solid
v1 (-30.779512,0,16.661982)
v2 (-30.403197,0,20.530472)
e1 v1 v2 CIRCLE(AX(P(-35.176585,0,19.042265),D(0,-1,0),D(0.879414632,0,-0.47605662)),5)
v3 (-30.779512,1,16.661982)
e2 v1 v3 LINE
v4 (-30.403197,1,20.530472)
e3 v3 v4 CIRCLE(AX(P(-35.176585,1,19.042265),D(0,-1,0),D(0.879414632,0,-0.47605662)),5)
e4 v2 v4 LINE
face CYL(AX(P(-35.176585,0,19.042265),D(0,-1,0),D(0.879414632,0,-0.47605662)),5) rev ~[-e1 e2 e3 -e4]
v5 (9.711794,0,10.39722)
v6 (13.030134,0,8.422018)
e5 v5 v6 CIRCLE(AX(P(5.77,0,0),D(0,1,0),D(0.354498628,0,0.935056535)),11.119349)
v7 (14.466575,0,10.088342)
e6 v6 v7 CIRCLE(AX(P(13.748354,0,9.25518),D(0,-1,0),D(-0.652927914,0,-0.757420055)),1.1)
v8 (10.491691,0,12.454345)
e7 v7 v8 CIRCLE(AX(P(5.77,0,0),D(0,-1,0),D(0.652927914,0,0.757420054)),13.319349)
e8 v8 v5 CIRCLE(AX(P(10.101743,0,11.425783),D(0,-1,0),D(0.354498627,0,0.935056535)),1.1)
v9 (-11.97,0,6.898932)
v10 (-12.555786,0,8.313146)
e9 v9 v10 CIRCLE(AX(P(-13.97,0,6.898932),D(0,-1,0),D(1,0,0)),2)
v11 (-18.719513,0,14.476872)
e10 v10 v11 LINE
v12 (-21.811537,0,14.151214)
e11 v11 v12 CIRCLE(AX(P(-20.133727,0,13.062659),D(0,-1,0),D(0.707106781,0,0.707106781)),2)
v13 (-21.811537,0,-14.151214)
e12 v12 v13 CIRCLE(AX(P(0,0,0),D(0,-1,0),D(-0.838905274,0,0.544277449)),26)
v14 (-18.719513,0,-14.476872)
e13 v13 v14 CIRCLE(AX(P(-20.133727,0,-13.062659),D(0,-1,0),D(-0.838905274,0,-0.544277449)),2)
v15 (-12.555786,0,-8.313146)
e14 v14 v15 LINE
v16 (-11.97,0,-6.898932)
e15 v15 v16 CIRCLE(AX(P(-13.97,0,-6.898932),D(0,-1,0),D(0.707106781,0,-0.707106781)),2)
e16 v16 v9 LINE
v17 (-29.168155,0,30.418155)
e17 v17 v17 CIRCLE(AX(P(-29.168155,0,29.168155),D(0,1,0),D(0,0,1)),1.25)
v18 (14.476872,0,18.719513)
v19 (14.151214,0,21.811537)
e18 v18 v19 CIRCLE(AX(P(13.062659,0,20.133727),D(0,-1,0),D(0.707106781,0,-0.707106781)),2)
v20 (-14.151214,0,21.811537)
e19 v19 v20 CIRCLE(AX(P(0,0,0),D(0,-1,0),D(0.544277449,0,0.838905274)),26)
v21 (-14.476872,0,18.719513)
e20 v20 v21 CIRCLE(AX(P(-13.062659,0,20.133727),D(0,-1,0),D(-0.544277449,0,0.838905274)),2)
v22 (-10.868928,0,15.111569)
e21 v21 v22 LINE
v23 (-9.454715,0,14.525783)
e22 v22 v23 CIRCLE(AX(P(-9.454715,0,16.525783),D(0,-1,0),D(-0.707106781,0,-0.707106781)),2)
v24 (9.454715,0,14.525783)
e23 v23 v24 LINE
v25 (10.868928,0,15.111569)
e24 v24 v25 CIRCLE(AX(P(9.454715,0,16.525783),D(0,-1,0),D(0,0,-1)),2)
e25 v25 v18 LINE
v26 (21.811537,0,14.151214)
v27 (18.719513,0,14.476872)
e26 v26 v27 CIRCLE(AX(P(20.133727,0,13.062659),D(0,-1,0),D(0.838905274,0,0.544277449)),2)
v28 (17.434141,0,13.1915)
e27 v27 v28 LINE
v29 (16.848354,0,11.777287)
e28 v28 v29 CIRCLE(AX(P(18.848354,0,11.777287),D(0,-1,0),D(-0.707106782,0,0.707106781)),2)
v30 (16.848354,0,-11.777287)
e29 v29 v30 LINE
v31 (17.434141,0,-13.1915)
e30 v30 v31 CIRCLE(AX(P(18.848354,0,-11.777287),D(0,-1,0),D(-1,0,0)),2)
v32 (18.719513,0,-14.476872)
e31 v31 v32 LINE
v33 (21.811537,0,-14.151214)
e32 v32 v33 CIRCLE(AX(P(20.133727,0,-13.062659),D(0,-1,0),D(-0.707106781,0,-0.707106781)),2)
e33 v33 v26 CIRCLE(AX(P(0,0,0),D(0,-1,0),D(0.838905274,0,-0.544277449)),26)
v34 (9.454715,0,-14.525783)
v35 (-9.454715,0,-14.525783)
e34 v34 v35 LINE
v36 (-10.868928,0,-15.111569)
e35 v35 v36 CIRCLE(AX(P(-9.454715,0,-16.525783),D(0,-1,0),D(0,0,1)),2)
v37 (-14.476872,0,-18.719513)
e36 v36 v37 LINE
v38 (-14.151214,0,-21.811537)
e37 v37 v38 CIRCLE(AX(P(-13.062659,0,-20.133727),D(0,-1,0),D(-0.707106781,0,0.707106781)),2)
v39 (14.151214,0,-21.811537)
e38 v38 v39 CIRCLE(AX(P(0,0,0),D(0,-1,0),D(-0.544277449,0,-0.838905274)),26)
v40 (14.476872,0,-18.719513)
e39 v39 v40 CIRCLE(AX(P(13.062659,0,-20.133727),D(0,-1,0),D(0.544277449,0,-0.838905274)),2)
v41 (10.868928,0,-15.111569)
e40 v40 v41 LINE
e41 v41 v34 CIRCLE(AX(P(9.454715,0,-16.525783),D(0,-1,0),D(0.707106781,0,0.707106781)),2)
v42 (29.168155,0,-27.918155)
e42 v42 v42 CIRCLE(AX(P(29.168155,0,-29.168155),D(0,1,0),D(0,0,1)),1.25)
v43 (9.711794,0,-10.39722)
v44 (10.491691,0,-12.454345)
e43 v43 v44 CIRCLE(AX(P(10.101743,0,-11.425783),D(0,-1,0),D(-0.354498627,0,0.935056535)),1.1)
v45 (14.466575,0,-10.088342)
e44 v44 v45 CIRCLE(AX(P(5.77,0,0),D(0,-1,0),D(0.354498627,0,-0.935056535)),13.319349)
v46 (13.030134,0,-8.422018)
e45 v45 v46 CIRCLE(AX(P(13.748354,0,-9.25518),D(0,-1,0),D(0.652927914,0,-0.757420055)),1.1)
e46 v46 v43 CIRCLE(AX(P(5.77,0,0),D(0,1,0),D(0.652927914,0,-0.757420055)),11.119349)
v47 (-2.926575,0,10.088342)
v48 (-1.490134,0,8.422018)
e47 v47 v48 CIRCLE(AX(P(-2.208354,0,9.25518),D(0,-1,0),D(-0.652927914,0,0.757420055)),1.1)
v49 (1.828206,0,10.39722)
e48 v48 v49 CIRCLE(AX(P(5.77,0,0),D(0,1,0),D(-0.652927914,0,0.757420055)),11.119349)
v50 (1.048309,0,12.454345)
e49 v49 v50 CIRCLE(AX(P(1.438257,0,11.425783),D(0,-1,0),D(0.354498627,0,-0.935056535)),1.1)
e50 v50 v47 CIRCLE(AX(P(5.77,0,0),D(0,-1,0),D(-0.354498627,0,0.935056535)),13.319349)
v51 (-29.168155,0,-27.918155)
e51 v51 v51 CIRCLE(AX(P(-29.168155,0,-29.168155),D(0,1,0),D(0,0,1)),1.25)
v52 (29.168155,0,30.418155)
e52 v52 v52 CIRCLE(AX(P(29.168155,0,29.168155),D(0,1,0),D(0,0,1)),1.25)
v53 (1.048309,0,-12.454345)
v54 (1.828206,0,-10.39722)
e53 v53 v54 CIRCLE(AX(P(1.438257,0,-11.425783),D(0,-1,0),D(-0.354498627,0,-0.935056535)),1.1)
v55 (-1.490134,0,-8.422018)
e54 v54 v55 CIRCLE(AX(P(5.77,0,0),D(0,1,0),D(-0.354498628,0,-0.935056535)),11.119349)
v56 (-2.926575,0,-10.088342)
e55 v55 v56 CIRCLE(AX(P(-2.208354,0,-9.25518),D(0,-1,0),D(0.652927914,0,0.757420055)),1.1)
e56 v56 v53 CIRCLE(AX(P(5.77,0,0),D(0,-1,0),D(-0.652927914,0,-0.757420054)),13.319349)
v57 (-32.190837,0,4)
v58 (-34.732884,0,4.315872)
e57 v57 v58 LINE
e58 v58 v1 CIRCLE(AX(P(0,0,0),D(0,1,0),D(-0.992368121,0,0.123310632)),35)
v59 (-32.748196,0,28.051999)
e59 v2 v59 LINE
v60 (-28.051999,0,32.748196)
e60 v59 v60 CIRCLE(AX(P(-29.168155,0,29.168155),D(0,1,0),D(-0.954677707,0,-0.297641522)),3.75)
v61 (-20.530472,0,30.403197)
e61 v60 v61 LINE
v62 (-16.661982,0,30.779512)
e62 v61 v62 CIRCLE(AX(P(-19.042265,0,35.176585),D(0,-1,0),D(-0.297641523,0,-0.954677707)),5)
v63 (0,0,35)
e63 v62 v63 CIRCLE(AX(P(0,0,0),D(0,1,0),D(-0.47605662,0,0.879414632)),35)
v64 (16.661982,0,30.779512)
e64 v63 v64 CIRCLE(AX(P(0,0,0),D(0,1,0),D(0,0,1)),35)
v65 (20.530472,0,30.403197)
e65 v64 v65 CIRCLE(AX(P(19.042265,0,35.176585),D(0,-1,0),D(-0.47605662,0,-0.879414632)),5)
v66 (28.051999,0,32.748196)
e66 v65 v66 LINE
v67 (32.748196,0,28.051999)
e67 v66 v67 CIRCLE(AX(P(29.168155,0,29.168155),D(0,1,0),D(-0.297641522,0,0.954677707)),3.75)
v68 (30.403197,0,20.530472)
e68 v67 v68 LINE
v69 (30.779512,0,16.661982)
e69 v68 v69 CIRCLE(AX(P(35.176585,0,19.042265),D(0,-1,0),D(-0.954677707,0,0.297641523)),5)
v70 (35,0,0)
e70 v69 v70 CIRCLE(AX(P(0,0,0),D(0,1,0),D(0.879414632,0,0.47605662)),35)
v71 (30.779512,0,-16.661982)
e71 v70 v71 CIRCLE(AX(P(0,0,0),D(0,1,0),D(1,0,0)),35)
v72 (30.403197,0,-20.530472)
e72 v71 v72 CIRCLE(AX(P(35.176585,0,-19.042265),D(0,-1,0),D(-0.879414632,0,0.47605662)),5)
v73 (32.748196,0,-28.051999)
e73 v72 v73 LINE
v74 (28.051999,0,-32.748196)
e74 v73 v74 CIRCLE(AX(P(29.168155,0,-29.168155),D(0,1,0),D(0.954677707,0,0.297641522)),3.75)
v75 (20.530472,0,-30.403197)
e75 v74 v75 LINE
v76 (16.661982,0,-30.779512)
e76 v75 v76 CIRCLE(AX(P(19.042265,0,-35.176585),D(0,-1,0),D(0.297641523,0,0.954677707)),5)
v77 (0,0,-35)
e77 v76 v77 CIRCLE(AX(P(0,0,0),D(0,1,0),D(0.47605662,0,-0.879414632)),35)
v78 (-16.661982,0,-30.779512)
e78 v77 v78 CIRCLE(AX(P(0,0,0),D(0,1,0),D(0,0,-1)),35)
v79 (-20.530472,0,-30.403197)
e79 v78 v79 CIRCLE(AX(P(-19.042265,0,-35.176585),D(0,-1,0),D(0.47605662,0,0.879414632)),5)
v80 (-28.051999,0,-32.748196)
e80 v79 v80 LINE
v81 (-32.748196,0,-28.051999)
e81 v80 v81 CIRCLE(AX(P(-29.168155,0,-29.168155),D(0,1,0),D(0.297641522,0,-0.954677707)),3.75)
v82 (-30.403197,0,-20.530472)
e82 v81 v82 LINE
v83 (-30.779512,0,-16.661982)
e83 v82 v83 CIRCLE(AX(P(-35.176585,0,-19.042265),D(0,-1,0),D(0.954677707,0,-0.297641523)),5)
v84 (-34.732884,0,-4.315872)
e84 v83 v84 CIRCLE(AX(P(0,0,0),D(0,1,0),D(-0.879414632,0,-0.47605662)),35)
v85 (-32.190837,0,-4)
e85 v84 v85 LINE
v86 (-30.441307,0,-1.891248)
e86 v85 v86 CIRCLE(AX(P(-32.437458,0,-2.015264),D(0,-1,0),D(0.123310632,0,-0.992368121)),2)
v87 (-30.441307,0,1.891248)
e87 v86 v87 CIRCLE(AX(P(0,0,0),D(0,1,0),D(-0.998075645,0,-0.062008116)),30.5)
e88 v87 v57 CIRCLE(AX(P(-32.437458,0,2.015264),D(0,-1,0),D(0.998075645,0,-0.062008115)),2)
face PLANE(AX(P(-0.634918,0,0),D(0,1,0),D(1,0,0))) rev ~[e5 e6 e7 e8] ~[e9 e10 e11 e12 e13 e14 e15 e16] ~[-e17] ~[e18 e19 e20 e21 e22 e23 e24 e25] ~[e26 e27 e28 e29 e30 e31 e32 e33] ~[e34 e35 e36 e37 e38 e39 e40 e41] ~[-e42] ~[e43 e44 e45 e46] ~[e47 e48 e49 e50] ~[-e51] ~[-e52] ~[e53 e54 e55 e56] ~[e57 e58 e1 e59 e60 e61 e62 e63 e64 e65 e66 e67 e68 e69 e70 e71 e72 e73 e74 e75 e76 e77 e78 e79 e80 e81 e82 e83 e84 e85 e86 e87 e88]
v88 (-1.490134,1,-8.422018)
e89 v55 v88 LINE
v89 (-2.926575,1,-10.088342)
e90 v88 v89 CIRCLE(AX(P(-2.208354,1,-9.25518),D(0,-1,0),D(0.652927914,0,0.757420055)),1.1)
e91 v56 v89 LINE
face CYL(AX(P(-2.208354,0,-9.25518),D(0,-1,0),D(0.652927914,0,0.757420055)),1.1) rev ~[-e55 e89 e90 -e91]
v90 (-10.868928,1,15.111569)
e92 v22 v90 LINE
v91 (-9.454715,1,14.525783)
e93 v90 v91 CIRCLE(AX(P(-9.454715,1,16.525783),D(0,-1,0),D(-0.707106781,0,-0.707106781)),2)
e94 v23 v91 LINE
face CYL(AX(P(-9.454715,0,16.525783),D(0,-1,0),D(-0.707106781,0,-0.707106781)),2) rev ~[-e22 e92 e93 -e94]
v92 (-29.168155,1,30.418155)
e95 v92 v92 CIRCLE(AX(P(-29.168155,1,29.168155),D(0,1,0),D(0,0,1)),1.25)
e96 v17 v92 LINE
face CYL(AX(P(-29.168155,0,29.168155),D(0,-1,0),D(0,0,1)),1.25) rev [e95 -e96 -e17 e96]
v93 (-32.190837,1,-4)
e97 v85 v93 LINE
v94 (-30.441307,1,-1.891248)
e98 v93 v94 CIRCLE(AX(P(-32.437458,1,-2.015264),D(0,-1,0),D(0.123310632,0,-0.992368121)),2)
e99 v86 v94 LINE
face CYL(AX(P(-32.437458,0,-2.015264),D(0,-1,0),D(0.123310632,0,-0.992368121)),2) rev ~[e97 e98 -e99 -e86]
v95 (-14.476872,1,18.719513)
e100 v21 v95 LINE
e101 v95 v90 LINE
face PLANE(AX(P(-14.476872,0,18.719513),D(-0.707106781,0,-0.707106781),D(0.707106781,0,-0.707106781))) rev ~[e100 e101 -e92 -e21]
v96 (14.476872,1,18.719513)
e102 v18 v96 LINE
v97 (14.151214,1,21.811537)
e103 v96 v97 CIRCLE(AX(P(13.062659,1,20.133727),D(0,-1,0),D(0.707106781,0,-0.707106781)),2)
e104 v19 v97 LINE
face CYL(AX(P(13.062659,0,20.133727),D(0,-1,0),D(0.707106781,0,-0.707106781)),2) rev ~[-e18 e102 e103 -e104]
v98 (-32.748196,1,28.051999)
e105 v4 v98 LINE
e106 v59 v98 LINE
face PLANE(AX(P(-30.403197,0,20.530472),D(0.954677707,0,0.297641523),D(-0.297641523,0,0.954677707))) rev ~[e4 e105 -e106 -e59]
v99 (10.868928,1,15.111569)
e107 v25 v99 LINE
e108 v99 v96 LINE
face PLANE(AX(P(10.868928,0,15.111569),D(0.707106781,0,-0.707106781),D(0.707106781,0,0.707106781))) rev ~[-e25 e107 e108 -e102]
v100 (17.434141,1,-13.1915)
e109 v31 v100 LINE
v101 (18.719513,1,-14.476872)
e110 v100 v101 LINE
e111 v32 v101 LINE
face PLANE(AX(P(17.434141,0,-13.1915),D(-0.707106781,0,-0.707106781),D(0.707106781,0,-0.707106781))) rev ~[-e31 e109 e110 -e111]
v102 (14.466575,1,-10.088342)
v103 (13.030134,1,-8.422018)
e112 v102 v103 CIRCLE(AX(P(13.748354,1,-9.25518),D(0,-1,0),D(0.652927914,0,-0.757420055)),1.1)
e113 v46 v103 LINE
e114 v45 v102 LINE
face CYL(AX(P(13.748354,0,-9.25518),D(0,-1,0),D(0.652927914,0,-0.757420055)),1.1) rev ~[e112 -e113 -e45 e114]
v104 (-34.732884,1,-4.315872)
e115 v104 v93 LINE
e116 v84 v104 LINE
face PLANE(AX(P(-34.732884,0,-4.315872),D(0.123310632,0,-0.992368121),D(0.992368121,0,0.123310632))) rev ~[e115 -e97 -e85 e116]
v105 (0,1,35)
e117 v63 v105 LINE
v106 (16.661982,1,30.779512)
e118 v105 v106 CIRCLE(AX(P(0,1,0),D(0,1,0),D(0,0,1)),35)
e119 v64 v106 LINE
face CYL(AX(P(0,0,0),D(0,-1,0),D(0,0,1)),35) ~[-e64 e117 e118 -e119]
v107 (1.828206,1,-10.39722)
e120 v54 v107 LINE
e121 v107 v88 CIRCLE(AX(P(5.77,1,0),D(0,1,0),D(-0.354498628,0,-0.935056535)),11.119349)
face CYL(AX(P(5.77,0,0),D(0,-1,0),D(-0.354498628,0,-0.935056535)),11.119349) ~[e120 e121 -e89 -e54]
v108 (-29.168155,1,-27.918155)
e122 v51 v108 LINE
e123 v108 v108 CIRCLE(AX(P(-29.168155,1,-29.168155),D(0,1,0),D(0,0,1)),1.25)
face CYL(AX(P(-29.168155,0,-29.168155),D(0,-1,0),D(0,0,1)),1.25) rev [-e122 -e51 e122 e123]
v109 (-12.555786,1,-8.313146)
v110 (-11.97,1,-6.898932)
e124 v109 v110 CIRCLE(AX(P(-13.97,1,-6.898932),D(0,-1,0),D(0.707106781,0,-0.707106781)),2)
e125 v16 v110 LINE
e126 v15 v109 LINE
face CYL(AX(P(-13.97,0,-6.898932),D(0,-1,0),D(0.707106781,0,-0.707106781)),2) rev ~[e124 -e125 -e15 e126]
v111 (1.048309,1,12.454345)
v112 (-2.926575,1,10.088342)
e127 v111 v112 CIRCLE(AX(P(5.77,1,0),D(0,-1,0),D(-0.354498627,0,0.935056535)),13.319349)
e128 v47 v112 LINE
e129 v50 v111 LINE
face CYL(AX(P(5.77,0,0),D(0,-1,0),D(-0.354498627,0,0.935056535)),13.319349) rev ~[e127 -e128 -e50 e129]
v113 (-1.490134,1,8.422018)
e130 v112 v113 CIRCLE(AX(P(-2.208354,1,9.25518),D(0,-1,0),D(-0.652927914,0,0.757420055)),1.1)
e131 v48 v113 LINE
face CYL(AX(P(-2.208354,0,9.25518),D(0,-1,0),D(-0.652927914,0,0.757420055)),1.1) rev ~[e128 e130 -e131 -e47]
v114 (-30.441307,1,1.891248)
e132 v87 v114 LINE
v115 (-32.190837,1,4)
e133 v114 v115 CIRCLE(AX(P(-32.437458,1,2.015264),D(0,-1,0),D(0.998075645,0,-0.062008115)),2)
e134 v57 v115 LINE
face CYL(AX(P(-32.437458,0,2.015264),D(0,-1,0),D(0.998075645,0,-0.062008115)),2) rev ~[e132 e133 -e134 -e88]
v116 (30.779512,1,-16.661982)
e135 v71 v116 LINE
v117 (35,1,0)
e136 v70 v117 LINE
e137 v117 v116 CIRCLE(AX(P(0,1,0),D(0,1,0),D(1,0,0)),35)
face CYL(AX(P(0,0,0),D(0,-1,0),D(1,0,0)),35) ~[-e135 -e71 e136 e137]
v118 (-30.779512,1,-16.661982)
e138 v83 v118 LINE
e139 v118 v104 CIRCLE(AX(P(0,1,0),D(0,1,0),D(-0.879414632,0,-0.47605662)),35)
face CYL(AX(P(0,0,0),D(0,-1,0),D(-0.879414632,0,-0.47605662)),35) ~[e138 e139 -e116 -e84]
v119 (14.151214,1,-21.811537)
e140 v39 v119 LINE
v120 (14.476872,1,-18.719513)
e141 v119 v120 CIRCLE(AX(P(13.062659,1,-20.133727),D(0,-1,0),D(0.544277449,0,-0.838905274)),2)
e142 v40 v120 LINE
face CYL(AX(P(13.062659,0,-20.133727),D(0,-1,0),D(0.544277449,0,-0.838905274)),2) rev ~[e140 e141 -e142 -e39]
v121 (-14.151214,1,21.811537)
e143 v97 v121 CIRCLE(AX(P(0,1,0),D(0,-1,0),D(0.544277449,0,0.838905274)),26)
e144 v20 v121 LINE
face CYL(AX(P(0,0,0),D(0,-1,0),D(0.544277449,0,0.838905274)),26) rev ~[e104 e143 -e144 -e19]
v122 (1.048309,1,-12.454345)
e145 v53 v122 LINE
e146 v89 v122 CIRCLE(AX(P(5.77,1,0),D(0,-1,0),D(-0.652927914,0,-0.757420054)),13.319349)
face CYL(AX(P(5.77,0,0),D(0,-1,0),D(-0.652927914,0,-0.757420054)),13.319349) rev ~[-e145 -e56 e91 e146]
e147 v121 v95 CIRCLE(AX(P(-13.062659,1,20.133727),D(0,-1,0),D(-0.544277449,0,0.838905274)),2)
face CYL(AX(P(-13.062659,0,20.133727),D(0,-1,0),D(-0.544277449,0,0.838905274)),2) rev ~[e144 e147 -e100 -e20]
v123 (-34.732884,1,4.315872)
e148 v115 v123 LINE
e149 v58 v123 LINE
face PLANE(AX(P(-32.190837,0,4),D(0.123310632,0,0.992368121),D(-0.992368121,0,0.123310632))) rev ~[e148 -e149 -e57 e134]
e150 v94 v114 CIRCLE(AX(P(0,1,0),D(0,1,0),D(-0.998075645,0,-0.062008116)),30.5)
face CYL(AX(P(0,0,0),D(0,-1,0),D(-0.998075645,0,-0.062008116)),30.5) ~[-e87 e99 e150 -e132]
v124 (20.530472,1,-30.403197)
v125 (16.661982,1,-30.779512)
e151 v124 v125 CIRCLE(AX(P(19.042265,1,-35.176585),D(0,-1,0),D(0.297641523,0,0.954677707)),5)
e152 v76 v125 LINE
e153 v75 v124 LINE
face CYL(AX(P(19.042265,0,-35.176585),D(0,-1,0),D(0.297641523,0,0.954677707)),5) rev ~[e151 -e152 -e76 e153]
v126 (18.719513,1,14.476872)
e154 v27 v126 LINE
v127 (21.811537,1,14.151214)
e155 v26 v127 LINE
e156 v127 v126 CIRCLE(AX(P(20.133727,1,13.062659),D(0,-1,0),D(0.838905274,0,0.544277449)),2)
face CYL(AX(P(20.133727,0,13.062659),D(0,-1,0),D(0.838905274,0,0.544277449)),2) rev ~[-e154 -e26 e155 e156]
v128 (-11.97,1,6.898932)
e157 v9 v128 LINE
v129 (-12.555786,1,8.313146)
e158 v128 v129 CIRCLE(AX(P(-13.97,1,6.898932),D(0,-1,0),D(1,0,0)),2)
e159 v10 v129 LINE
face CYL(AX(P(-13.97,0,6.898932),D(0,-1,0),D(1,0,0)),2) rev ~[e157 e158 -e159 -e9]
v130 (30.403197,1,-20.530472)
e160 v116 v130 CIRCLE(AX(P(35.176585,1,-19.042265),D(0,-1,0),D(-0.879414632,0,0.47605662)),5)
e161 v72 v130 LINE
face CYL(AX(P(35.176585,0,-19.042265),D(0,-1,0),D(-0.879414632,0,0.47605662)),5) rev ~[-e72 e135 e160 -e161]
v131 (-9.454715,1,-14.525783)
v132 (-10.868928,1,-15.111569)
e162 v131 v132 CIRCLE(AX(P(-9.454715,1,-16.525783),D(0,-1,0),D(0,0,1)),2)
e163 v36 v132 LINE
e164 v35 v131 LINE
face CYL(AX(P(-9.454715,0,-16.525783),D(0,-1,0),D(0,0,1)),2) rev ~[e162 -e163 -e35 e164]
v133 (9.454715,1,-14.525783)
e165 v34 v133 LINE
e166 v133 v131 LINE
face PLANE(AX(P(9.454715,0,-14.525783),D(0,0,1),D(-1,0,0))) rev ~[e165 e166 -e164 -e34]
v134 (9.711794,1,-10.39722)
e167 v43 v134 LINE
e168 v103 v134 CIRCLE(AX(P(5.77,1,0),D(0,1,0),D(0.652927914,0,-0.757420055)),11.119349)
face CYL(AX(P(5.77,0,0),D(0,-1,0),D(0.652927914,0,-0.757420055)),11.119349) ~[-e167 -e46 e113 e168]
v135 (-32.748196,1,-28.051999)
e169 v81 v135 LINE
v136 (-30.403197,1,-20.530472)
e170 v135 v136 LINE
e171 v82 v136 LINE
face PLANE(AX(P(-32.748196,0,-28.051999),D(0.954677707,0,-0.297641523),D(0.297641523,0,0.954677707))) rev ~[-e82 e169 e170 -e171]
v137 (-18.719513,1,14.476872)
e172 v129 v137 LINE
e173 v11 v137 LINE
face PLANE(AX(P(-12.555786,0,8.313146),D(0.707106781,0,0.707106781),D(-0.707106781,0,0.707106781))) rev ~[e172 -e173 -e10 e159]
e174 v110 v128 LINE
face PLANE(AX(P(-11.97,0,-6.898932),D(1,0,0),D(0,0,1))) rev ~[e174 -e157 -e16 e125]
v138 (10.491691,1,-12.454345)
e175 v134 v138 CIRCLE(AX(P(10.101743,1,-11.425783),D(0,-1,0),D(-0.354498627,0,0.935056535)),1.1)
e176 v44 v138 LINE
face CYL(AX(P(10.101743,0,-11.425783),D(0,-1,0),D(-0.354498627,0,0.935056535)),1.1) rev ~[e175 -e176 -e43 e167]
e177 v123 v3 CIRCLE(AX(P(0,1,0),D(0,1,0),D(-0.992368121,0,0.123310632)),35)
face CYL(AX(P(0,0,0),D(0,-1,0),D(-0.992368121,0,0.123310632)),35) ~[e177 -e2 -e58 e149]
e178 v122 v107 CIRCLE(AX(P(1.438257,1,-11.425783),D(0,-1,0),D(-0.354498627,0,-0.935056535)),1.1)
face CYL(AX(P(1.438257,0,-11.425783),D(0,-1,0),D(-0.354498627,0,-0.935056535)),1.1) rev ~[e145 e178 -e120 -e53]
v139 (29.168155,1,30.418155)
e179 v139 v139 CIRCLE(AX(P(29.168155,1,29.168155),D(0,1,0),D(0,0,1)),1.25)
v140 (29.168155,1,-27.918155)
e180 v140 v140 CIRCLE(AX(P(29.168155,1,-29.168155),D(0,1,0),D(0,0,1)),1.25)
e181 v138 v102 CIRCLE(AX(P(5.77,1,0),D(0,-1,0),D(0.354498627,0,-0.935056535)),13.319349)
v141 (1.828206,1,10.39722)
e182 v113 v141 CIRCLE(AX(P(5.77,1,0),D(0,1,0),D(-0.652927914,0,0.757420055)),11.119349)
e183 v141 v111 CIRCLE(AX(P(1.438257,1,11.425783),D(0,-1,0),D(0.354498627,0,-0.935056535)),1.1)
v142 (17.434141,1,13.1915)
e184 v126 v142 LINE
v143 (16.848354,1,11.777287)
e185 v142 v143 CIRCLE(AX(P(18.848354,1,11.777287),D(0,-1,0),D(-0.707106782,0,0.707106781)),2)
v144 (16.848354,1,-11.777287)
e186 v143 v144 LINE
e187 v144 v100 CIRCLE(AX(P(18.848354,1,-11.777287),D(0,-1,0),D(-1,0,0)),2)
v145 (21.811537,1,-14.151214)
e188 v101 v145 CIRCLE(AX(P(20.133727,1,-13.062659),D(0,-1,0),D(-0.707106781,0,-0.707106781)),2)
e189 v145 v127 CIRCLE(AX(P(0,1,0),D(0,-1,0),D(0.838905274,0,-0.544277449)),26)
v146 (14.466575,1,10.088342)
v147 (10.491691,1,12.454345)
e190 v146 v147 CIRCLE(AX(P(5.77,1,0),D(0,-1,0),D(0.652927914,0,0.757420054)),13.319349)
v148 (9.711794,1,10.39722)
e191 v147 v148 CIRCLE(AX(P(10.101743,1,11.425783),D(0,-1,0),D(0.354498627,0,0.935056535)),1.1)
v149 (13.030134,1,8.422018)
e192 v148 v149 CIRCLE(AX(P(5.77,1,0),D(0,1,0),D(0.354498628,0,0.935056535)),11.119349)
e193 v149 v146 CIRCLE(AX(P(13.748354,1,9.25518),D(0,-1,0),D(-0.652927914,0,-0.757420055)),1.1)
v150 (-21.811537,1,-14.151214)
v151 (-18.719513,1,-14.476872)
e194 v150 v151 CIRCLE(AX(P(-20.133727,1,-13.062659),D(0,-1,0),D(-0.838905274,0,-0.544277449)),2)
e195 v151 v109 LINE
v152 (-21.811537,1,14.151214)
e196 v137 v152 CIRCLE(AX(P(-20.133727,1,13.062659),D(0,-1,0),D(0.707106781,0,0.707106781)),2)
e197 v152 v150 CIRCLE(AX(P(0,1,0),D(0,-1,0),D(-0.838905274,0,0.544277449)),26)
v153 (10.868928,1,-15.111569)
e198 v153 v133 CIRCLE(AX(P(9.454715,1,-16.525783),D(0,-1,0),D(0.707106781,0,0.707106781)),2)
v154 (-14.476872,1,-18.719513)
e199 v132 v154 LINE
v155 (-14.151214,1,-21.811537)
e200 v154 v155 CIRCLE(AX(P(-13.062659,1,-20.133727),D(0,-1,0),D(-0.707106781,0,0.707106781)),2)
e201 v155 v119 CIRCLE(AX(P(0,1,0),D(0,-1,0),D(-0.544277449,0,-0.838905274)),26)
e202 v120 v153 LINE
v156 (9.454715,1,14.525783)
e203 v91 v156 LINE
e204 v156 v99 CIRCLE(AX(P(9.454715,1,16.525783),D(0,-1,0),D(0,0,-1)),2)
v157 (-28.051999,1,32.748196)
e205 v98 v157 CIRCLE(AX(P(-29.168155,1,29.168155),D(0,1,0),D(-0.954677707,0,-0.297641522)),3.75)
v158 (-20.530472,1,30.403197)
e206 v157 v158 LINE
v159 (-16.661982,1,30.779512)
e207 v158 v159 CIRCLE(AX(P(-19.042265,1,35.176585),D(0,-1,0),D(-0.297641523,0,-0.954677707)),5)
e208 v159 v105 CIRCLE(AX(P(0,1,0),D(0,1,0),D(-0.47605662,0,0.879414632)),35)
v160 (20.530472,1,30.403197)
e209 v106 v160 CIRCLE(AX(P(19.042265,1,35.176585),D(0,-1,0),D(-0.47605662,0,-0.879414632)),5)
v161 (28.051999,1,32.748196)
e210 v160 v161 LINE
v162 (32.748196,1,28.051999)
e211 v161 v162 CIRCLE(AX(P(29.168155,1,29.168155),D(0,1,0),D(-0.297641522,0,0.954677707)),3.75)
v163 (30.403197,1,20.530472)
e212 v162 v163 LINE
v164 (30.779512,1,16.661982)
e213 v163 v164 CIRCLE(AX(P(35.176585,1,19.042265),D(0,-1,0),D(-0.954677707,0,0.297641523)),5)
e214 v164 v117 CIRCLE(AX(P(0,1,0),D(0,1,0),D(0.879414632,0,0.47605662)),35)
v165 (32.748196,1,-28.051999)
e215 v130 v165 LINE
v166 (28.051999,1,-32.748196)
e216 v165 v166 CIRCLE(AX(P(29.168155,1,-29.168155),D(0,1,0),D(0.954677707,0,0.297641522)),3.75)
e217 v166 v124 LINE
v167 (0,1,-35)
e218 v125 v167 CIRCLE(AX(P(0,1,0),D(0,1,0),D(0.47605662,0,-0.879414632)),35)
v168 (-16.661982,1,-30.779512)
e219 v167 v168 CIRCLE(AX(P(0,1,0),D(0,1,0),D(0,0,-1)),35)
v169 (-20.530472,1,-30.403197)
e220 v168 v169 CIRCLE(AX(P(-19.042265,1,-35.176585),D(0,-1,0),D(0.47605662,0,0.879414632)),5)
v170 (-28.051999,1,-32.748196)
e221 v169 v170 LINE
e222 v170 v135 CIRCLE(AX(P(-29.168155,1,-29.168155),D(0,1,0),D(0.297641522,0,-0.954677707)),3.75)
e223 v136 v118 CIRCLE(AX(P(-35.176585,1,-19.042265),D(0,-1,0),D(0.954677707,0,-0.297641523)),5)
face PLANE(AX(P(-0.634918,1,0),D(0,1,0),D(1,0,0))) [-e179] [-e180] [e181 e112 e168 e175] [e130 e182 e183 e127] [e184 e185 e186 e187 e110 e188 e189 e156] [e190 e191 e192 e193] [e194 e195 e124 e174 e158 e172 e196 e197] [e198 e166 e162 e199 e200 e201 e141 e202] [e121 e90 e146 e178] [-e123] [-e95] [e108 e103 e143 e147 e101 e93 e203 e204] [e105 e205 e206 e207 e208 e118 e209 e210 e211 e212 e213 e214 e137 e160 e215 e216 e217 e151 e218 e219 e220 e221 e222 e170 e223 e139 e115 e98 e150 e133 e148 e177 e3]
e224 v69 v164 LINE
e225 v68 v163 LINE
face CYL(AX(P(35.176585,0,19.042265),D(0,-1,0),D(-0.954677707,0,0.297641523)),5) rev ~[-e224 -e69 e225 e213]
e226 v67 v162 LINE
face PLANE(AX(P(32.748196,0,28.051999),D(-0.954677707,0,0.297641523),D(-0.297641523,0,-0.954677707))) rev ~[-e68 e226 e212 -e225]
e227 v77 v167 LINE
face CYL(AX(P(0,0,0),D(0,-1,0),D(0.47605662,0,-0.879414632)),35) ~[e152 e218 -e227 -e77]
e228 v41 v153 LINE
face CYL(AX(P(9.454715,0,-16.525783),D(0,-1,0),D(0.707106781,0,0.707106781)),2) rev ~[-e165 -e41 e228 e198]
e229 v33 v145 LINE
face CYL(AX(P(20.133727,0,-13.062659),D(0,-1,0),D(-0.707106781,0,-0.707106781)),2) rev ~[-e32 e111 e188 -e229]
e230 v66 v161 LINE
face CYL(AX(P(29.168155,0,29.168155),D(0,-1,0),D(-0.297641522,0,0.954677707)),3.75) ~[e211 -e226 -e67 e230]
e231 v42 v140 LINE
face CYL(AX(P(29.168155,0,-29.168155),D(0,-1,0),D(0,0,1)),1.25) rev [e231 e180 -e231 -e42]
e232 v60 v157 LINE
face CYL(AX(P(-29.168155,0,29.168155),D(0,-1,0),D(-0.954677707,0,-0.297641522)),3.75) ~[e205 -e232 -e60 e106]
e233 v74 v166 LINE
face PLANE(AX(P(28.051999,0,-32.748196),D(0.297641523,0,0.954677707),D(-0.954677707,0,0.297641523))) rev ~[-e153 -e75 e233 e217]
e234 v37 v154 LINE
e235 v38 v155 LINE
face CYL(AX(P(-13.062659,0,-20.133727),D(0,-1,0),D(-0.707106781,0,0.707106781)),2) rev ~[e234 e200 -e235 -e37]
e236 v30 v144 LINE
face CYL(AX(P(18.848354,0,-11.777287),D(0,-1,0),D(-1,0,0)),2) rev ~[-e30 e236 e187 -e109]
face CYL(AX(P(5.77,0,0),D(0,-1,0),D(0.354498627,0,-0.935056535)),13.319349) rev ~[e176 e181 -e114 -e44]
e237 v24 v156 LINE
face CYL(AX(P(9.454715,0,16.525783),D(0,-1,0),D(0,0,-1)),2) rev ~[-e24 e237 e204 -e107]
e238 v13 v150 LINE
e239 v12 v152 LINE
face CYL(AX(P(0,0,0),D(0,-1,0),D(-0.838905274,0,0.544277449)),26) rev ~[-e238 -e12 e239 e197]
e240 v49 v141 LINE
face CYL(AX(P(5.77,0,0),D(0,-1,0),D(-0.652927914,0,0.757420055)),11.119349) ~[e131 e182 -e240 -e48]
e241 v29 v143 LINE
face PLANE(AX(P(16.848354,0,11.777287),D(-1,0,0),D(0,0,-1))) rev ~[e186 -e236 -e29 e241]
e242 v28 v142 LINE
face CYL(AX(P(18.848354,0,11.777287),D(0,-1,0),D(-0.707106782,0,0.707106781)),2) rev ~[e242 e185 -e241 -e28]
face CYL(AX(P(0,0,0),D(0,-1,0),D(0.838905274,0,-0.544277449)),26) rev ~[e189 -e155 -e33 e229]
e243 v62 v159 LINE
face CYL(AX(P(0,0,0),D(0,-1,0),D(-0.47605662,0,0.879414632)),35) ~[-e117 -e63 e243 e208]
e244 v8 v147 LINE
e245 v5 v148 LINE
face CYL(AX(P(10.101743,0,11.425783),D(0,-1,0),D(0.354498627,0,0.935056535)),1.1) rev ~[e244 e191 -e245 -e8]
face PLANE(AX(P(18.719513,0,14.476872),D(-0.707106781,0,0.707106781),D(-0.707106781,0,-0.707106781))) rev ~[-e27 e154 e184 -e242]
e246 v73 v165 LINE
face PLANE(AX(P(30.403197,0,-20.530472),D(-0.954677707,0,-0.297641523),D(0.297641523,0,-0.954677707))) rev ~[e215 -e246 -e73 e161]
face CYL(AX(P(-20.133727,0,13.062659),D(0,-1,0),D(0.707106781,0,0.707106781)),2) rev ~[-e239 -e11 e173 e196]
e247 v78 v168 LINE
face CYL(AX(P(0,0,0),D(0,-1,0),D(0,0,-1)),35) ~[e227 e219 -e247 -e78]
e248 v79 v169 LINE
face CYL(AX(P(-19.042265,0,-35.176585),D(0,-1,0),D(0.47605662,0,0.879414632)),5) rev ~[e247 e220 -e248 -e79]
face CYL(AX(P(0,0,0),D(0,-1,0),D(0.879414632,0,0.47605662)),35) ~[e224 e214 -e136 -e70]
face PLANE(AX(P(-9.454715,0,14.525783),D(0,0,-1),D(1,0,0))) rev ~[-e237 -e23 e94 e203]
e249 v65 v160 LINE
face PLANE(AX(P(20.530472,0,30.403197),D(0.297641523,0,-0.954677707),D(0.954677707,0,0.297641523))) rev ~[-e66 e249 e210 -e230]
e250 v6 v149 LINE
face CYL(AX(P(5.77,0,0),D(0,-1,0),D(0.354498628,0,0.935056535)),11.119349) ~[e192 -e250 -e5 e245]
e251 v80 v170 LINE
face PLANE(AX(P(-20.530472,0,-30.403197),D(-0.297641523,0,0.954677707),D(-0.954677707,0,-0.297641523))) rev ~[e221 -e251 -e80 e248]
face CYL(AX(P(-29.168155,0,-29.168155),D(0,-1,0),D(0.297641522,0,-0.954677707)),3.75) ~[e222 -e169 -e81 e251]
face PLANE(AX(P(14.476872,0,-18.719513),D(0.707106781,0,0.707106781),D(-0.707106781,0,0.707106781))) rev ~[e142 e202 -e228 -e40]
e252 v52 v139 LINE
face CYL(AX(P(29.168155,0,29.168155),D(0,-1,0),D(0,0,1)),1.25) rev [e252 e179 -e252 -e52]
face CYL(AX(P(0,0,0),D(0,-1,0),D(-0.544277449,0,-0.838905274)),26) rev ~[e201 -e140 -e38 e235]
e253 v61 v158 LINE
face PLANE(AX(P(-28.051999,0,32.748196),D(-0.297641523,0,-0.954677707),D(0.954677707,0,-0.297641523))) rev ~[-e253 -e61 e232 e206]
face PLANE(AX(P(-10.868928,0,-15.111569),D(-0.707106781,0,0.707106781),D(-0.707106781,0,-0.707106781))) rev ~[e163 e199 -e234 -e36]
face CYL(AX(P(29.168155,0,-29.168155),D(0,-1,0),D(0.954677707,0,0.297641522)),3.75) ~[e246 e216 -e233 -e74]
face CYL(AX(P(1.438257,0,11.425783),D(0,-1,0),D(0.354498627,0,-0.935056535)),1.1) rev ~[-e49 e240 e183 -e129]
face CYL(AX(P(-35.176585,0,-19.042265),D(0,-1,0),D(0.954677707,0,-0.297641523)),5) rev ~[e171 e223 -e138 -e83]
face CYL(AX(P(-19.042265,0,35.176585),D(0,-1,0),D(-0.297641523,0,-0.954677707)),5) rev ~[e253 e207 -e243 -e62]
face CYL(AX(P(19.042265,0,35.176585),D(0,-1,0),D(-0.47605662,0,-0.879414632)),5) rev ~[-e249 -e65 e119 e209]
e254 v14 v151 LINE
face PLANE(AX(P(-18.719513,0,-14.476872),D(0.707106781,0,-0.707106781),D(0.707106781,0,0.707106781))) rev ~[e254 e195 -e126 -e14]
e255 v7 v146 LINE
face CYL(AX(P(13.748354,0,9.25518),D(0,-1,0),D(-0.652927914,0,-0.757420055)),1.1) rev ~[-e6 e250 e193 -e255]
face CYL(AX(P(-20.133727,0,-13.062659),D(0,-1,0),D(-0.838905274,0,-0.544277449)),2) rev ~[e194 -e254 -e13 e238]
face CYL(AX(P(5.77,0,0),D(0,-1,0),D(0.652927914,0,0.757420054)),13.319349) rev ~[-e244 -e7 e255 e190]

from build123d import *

# Parameters (mm, degrees)
SKETCH_1_R      = 1.25
EXTRUDE_1_DEPTH = 1


with BuildPart() as part:
    # 草图1 → 凸台-拉伸1 (new body)
    with BuildSketch(Plane(origin=(0, 0, 0), x_dir=(1, 0, 0), z_dir=(0, 1, 0))):
        with BuildLine():
            Line((30.403196742, 20.530472404), (32.748196125, 28.051999014))
            ThreePointArc((32.748196125, 28.051999014), (31.819805153, 31.819805153), (28.051999014, 32.748196125))
            Line((28.051999014, 32.748196125), (20.530472404, 30.403196742))
            ThreePointArc((20.530472404, 30.403196742), (18.558164611, 30.200075754), (16.661981691, 30.779512116))
            ThreePointArc((16.661981691, 30.779512116), (8.59409902, 33.928475681), (0, 35))
            ThreePointArc((0, 35), (-8.59409902, 33.928475681), (-16.661981691, 30.779512116))
            ThreePointArc((-16.661981691, 30.779512116), (-18.558164611, 30.200075754), (-20.530472404, 30.403196742))
            Line((-20.530472404, 30.403196742), (-28.051999014, 32.748196125))
            ThreePointArc((-28.051999014, 32.748196125), (-31.819805153, 31.819805153), (-32.748196125, 28.051999014))
            Line((-32.748196125, 28.051999014), (-30.403196742, 20.530472404))
            ThreePointArc((-30.403196742, 20.530472404), (-30.200075754, 18.558164611), (-30.779512116, 16.661981691))
            ThreePointArc((-30.779512116, 16.661981691), (-33.33279353, 10.673559644), (-34.732884242, 4.315872125))
            Line((-34.732884242, 4.315872125), (-32.190837206, 4))
            ThreePointArc((-32.190837206, 4), (-30.89823255, 3.292285123), (-30.441307179, 1.891247526))
            ThreePointArc((-30.441307179, 1.891247526), (-30.5, 0), (-30.441307179, -1.891247526))
            ThreePointArc((-30.441307179, -1.891247526), (-30.89823255, -3.292285123), (-32.190837206, -4))
            Line((-32.190837206, -4), (-34.732884242, -4.315872125))
            ThreePointArc((-34.732884242, -4.315872125), (-33.33279353, -10.673559644), (-30.779512116, -16.661981691))
            ThreePointArc((-30.779512116, -16.661981691), (-30.200075754, -18.558164611), (-30.403196742, -20.530472404))
            Line((-30.403196742, -20.530472404), (-32.748196125, -28.051999014))
            ThreePointArc((-32.748196125, -28.051999014), (-31.819805153, -31.819805153), (-28.051999014, -32.748196125))
            Line((-28.051999014, -32.748196125), (-20.530472404, -30.403196742))
            ThreePointArc((-20.530472404, -30.403196742), (-18.558164611, -30.200075754), (-16.661981691, -30.779512116))
            ThreePointArc((-16.661981691, -30.779512116), (-8.59409902, -33.928475681), (0, -35))
            ThreePointArc((0, -35), (8.59409902, -33.928475681), (16.661981691, -30.779512116))
            ThreePointArc((16.661981691, -30.779512116), (18.558164611, -30.200075754), (20.530472404, -30.403196742))
            Line((20.530472404, -30.403196742), (28.051999014, -32.748196125))
            ThreePointArc((28.051999014, -32.748196125), (31.819805153, -31.819805153), (32.748196125, -28.051999014))
            Line((32.748196125, -28.051999014), (30.403196742, -20.530472404))
            ThreePointArc((30.403196742, -20.530472404), (30.200075754, -18.558164611), (30.779512116, -16.661981691))
            ThreePointArc((30.779512116, -16.661981691), (33.928475681, -8.59409902), (35, 0))
            ThreePointArc((35, 0), (33.928475681, 8.59409902), (30.779512116, 16.661981691))
            ThreePointArc((30.779512116, 16.661981691), (30.200075754, 18.558164611), (30.403196742, 20.530472404))
        make_face()
        with Locations(Location((-29.168154724, -29.168154724, 0), (0, 0, 270))):
            Circle(SKETCH_1_R, mode=Mode.SUBTRACT)
        with BuildLine():
            Line((-14.476872329, -18.719513016), (-10.868928268, -15.111568955))
            ThreePointArc((-10.868928268, -15.111568955), (-10.22008157, -14.678023452), (-9.454714705, -14.525782517))
            Line((-9.454714705, -14.525782517), (9.454714705, -14.525782517))
            ThreePointArc((9.454714705, -14.525782517), (10.22008157, -14.678023452), (10.868928268, -15.111568955))
            Line((10.868928268, -15.111568955), (14.476872329, -18.719513016))
            ThreePointArc((14.476872329, -18.719513016), (15.051657451, -20.343212221), (14.151213664, -21.811537127))
            ThreePointArc((14.151213664, -21.811537127), (0, -26), (-14.151213664, -21.811537127))
            ThreePointArc((-14.151213664, -21.811537127), (-15.051657451, -20.343212221), (-14.476872329, -18.719513016))
        make_face(mode=Mode.SUBTRACT)
        with BuildLine():
            ThreePointArc((1.828205899, -10.397220329), (2.466819597, -11.815731007), (1.048308919, -12.454344705))
            ThreePointArc((1.048308919, -12.454344705), (-1.042632246, -11.445222173), (-2.926575027, -10.088342356))
            ThreePointArc((-2.926575027, -10.088342356), (-3.041516382, -8.536959591), (-1.490133616, -8.422018236))
            ThreePointArc((-1.490133616, -8.422018236), (0.082632246, -9.554777827), (1.828205899, -10.397220329))
        make_face(mode=Mode.SUBTRACT)
        with Locations(Location((29.168154724, -29.168154724, 0), (0, 0, 270))):
            Circle(SKETCH_1_R, mode=Mode.SUBTRACT)
        with BuildLine():
            ThreePointArc((14.466575027, -10.088342356), (12.582632246, -11.445222173), (10.491691081, -12.454344705))
            ThreePointArc((10.491691081, -12.454344705), (9.073180403, -11.815731007), (9.711794101, -10.397220329))
            ThreePointArc((9.711794101, -10.397220329), (11.457367754, -9.554777827), (13.030133616, -8.422018236))
            ThreePointArc((13.030133616, -8.422018236), (14.581516382, -8.536959591), (14.466575027, -10.088342356))
        make_face(mode=Mode.SUBTRACT)
        with BuildLine():
            Line((-11.97, 6.898932188), (-11.97, -6.898932188))
            ThreePointArc((-11.97, -6.898932188), (-12.122240935, -7.664299053), (-12.555786438, -8.313145751))
            Line((-12.555786438, -8.313145751), (-18.719513016, -14.476872329))
            ThreePointArc((-18.719513016, -14.476872329), (-20.343212221, -15.051657451), (-21.811537127, -14.151213664))
            ThreePointArc((-21.811537127, -14.151213664), (-26, 0), (-21.811537127, 14.151213664))
            ThreePointArc((-21.811537127, 14.151213664), (-20.343212221, 15.051657451), (-18.719513016, 14.476872329))
            Line((-18.719513016, 14.476872329), (-12.555786438, 8.313145751))
            ThreePointArc((-12.555786438, 8.313145751), (-12.122240935, 7.664299053), (-11.97, 6.898932188))
        make_face(mode=Mode.SUBTRACT)
        with BuildLine():
            ThreePointArc((-2.926575027, 10.088342356), (-1.042632246, 11.445222173), (1.048308919, 12.454344705))
            ThreePointArc((1.048308919, 12.454344705), (2.466819597, 11.815731007), (1.828205899, 10.397220329))
            ThreePointArc((1.828205899, 10.397220329), (0.082632246, 9.554777827), (-1.490133616, 8.422018236))
            ThreePointArc((-1.490133616, 8.422018236), (-3.041516382, 8.536959591), (-2.926575027, 10.088342356))
        make_face(mode=Mode.SUBTRACT)
        with Locations(Location((-29.168154724, 29.168154724, 0), (0, 0, 270))):
            Circle(SKETCH_1_R, mode=Mode.SUBTRACT)
        with BuildLine():
            ThreePointArc((10.868928268, 15.111568955), (10.22008157, 14.678023452), (9.454714705, 14.525782517))
            Line((9.454714705, 14.525782517), (-9.454714705, 14.525782517))
            ThreePointArc((-9.454714705, 14.525782517), (-10.22008157, 14.678023452), (-10.868928268, 15.111568955))
            Line((-10.868928268, 15.111568955), (-14.476872329, 18.719513016))
            ThreePointArc((-14.476872329, 18.719513016), (-15.051657451, 20.343212221), (-14.151213664, 21.811537127))
            ThreePointArc((-14.151213664, 21.811537127), (0, 26), (14.151213664, 21.811537127))
            ThreePointArc((14.151213664, 21.811537127), (15.051657451, 20.343212221), (14.476872329, 18.719513016))
            Line((14.476872329, 18.719513016), (10.868928268, 15.111568955))
        make_face(mode=Mode.SUBTRACT)
        with BuildLine():
            ThreePointArc((9.711794101, 10.397220329), (9.073180403, 11.815731007), (10.491691081, 12.454344705))
            ThreePointArc((10.491691081, 12.454344705), (12.582632246, 11.445222173), (14.466575027, 10.088342356))
            ThreePointArc((14.466575027, 10.088342356), (14.581516382, 8.536959591), (13.030133616, 8.422018236))
            ThreePointArc((13.030133616, 8.422018236), (11.457367754, 9.554777827), (9.711794101, 10.397220329))
        make_face(mode=Mode.SUBTRACT)
        with BuildLine():
            ThreePointArc((21.811537127, -14.151213664), (20.343212221, -15.051657451), (18.719513016, -14.476872329))
            Line((18.719513016, -14.476872329), (17.434140759, -13.191500072))
            ThreePointArc((17.434140759, -13.191500072), (17.000595257, -12.542653375), (16.848354322, -11.77728651))
            Line((16.848354322, -11.77728651), (16.848354322, 11.77728651))
            ThreePointArc((16.848354322, 11.77728651), (17.000595257, 12.542653375), (17.434140759, 13.191500072))
            Line((17.434140759, 13.191500072), (18.719513016, 14.476872329))
            ThreePointArc((18.719513016, 14.476872329), (20.343212221, 15.051657451), (21.811537127, 14.151213664))
            ThreePointArc((21.811537127, 14.151213664), (26, 0), (21.811537127, -14.151213664))
        make_face(mode=Mode.SUBTRACT)
        with Locations(Location((29.168154724, 29.168154724, 0), (0, 0, 270))):
            Circle(SKETCH_1_R, mode=Mode.SUBTRACT)
    extrude(amount=EXTRUDE_1_DEPTH)


solid = part.part
